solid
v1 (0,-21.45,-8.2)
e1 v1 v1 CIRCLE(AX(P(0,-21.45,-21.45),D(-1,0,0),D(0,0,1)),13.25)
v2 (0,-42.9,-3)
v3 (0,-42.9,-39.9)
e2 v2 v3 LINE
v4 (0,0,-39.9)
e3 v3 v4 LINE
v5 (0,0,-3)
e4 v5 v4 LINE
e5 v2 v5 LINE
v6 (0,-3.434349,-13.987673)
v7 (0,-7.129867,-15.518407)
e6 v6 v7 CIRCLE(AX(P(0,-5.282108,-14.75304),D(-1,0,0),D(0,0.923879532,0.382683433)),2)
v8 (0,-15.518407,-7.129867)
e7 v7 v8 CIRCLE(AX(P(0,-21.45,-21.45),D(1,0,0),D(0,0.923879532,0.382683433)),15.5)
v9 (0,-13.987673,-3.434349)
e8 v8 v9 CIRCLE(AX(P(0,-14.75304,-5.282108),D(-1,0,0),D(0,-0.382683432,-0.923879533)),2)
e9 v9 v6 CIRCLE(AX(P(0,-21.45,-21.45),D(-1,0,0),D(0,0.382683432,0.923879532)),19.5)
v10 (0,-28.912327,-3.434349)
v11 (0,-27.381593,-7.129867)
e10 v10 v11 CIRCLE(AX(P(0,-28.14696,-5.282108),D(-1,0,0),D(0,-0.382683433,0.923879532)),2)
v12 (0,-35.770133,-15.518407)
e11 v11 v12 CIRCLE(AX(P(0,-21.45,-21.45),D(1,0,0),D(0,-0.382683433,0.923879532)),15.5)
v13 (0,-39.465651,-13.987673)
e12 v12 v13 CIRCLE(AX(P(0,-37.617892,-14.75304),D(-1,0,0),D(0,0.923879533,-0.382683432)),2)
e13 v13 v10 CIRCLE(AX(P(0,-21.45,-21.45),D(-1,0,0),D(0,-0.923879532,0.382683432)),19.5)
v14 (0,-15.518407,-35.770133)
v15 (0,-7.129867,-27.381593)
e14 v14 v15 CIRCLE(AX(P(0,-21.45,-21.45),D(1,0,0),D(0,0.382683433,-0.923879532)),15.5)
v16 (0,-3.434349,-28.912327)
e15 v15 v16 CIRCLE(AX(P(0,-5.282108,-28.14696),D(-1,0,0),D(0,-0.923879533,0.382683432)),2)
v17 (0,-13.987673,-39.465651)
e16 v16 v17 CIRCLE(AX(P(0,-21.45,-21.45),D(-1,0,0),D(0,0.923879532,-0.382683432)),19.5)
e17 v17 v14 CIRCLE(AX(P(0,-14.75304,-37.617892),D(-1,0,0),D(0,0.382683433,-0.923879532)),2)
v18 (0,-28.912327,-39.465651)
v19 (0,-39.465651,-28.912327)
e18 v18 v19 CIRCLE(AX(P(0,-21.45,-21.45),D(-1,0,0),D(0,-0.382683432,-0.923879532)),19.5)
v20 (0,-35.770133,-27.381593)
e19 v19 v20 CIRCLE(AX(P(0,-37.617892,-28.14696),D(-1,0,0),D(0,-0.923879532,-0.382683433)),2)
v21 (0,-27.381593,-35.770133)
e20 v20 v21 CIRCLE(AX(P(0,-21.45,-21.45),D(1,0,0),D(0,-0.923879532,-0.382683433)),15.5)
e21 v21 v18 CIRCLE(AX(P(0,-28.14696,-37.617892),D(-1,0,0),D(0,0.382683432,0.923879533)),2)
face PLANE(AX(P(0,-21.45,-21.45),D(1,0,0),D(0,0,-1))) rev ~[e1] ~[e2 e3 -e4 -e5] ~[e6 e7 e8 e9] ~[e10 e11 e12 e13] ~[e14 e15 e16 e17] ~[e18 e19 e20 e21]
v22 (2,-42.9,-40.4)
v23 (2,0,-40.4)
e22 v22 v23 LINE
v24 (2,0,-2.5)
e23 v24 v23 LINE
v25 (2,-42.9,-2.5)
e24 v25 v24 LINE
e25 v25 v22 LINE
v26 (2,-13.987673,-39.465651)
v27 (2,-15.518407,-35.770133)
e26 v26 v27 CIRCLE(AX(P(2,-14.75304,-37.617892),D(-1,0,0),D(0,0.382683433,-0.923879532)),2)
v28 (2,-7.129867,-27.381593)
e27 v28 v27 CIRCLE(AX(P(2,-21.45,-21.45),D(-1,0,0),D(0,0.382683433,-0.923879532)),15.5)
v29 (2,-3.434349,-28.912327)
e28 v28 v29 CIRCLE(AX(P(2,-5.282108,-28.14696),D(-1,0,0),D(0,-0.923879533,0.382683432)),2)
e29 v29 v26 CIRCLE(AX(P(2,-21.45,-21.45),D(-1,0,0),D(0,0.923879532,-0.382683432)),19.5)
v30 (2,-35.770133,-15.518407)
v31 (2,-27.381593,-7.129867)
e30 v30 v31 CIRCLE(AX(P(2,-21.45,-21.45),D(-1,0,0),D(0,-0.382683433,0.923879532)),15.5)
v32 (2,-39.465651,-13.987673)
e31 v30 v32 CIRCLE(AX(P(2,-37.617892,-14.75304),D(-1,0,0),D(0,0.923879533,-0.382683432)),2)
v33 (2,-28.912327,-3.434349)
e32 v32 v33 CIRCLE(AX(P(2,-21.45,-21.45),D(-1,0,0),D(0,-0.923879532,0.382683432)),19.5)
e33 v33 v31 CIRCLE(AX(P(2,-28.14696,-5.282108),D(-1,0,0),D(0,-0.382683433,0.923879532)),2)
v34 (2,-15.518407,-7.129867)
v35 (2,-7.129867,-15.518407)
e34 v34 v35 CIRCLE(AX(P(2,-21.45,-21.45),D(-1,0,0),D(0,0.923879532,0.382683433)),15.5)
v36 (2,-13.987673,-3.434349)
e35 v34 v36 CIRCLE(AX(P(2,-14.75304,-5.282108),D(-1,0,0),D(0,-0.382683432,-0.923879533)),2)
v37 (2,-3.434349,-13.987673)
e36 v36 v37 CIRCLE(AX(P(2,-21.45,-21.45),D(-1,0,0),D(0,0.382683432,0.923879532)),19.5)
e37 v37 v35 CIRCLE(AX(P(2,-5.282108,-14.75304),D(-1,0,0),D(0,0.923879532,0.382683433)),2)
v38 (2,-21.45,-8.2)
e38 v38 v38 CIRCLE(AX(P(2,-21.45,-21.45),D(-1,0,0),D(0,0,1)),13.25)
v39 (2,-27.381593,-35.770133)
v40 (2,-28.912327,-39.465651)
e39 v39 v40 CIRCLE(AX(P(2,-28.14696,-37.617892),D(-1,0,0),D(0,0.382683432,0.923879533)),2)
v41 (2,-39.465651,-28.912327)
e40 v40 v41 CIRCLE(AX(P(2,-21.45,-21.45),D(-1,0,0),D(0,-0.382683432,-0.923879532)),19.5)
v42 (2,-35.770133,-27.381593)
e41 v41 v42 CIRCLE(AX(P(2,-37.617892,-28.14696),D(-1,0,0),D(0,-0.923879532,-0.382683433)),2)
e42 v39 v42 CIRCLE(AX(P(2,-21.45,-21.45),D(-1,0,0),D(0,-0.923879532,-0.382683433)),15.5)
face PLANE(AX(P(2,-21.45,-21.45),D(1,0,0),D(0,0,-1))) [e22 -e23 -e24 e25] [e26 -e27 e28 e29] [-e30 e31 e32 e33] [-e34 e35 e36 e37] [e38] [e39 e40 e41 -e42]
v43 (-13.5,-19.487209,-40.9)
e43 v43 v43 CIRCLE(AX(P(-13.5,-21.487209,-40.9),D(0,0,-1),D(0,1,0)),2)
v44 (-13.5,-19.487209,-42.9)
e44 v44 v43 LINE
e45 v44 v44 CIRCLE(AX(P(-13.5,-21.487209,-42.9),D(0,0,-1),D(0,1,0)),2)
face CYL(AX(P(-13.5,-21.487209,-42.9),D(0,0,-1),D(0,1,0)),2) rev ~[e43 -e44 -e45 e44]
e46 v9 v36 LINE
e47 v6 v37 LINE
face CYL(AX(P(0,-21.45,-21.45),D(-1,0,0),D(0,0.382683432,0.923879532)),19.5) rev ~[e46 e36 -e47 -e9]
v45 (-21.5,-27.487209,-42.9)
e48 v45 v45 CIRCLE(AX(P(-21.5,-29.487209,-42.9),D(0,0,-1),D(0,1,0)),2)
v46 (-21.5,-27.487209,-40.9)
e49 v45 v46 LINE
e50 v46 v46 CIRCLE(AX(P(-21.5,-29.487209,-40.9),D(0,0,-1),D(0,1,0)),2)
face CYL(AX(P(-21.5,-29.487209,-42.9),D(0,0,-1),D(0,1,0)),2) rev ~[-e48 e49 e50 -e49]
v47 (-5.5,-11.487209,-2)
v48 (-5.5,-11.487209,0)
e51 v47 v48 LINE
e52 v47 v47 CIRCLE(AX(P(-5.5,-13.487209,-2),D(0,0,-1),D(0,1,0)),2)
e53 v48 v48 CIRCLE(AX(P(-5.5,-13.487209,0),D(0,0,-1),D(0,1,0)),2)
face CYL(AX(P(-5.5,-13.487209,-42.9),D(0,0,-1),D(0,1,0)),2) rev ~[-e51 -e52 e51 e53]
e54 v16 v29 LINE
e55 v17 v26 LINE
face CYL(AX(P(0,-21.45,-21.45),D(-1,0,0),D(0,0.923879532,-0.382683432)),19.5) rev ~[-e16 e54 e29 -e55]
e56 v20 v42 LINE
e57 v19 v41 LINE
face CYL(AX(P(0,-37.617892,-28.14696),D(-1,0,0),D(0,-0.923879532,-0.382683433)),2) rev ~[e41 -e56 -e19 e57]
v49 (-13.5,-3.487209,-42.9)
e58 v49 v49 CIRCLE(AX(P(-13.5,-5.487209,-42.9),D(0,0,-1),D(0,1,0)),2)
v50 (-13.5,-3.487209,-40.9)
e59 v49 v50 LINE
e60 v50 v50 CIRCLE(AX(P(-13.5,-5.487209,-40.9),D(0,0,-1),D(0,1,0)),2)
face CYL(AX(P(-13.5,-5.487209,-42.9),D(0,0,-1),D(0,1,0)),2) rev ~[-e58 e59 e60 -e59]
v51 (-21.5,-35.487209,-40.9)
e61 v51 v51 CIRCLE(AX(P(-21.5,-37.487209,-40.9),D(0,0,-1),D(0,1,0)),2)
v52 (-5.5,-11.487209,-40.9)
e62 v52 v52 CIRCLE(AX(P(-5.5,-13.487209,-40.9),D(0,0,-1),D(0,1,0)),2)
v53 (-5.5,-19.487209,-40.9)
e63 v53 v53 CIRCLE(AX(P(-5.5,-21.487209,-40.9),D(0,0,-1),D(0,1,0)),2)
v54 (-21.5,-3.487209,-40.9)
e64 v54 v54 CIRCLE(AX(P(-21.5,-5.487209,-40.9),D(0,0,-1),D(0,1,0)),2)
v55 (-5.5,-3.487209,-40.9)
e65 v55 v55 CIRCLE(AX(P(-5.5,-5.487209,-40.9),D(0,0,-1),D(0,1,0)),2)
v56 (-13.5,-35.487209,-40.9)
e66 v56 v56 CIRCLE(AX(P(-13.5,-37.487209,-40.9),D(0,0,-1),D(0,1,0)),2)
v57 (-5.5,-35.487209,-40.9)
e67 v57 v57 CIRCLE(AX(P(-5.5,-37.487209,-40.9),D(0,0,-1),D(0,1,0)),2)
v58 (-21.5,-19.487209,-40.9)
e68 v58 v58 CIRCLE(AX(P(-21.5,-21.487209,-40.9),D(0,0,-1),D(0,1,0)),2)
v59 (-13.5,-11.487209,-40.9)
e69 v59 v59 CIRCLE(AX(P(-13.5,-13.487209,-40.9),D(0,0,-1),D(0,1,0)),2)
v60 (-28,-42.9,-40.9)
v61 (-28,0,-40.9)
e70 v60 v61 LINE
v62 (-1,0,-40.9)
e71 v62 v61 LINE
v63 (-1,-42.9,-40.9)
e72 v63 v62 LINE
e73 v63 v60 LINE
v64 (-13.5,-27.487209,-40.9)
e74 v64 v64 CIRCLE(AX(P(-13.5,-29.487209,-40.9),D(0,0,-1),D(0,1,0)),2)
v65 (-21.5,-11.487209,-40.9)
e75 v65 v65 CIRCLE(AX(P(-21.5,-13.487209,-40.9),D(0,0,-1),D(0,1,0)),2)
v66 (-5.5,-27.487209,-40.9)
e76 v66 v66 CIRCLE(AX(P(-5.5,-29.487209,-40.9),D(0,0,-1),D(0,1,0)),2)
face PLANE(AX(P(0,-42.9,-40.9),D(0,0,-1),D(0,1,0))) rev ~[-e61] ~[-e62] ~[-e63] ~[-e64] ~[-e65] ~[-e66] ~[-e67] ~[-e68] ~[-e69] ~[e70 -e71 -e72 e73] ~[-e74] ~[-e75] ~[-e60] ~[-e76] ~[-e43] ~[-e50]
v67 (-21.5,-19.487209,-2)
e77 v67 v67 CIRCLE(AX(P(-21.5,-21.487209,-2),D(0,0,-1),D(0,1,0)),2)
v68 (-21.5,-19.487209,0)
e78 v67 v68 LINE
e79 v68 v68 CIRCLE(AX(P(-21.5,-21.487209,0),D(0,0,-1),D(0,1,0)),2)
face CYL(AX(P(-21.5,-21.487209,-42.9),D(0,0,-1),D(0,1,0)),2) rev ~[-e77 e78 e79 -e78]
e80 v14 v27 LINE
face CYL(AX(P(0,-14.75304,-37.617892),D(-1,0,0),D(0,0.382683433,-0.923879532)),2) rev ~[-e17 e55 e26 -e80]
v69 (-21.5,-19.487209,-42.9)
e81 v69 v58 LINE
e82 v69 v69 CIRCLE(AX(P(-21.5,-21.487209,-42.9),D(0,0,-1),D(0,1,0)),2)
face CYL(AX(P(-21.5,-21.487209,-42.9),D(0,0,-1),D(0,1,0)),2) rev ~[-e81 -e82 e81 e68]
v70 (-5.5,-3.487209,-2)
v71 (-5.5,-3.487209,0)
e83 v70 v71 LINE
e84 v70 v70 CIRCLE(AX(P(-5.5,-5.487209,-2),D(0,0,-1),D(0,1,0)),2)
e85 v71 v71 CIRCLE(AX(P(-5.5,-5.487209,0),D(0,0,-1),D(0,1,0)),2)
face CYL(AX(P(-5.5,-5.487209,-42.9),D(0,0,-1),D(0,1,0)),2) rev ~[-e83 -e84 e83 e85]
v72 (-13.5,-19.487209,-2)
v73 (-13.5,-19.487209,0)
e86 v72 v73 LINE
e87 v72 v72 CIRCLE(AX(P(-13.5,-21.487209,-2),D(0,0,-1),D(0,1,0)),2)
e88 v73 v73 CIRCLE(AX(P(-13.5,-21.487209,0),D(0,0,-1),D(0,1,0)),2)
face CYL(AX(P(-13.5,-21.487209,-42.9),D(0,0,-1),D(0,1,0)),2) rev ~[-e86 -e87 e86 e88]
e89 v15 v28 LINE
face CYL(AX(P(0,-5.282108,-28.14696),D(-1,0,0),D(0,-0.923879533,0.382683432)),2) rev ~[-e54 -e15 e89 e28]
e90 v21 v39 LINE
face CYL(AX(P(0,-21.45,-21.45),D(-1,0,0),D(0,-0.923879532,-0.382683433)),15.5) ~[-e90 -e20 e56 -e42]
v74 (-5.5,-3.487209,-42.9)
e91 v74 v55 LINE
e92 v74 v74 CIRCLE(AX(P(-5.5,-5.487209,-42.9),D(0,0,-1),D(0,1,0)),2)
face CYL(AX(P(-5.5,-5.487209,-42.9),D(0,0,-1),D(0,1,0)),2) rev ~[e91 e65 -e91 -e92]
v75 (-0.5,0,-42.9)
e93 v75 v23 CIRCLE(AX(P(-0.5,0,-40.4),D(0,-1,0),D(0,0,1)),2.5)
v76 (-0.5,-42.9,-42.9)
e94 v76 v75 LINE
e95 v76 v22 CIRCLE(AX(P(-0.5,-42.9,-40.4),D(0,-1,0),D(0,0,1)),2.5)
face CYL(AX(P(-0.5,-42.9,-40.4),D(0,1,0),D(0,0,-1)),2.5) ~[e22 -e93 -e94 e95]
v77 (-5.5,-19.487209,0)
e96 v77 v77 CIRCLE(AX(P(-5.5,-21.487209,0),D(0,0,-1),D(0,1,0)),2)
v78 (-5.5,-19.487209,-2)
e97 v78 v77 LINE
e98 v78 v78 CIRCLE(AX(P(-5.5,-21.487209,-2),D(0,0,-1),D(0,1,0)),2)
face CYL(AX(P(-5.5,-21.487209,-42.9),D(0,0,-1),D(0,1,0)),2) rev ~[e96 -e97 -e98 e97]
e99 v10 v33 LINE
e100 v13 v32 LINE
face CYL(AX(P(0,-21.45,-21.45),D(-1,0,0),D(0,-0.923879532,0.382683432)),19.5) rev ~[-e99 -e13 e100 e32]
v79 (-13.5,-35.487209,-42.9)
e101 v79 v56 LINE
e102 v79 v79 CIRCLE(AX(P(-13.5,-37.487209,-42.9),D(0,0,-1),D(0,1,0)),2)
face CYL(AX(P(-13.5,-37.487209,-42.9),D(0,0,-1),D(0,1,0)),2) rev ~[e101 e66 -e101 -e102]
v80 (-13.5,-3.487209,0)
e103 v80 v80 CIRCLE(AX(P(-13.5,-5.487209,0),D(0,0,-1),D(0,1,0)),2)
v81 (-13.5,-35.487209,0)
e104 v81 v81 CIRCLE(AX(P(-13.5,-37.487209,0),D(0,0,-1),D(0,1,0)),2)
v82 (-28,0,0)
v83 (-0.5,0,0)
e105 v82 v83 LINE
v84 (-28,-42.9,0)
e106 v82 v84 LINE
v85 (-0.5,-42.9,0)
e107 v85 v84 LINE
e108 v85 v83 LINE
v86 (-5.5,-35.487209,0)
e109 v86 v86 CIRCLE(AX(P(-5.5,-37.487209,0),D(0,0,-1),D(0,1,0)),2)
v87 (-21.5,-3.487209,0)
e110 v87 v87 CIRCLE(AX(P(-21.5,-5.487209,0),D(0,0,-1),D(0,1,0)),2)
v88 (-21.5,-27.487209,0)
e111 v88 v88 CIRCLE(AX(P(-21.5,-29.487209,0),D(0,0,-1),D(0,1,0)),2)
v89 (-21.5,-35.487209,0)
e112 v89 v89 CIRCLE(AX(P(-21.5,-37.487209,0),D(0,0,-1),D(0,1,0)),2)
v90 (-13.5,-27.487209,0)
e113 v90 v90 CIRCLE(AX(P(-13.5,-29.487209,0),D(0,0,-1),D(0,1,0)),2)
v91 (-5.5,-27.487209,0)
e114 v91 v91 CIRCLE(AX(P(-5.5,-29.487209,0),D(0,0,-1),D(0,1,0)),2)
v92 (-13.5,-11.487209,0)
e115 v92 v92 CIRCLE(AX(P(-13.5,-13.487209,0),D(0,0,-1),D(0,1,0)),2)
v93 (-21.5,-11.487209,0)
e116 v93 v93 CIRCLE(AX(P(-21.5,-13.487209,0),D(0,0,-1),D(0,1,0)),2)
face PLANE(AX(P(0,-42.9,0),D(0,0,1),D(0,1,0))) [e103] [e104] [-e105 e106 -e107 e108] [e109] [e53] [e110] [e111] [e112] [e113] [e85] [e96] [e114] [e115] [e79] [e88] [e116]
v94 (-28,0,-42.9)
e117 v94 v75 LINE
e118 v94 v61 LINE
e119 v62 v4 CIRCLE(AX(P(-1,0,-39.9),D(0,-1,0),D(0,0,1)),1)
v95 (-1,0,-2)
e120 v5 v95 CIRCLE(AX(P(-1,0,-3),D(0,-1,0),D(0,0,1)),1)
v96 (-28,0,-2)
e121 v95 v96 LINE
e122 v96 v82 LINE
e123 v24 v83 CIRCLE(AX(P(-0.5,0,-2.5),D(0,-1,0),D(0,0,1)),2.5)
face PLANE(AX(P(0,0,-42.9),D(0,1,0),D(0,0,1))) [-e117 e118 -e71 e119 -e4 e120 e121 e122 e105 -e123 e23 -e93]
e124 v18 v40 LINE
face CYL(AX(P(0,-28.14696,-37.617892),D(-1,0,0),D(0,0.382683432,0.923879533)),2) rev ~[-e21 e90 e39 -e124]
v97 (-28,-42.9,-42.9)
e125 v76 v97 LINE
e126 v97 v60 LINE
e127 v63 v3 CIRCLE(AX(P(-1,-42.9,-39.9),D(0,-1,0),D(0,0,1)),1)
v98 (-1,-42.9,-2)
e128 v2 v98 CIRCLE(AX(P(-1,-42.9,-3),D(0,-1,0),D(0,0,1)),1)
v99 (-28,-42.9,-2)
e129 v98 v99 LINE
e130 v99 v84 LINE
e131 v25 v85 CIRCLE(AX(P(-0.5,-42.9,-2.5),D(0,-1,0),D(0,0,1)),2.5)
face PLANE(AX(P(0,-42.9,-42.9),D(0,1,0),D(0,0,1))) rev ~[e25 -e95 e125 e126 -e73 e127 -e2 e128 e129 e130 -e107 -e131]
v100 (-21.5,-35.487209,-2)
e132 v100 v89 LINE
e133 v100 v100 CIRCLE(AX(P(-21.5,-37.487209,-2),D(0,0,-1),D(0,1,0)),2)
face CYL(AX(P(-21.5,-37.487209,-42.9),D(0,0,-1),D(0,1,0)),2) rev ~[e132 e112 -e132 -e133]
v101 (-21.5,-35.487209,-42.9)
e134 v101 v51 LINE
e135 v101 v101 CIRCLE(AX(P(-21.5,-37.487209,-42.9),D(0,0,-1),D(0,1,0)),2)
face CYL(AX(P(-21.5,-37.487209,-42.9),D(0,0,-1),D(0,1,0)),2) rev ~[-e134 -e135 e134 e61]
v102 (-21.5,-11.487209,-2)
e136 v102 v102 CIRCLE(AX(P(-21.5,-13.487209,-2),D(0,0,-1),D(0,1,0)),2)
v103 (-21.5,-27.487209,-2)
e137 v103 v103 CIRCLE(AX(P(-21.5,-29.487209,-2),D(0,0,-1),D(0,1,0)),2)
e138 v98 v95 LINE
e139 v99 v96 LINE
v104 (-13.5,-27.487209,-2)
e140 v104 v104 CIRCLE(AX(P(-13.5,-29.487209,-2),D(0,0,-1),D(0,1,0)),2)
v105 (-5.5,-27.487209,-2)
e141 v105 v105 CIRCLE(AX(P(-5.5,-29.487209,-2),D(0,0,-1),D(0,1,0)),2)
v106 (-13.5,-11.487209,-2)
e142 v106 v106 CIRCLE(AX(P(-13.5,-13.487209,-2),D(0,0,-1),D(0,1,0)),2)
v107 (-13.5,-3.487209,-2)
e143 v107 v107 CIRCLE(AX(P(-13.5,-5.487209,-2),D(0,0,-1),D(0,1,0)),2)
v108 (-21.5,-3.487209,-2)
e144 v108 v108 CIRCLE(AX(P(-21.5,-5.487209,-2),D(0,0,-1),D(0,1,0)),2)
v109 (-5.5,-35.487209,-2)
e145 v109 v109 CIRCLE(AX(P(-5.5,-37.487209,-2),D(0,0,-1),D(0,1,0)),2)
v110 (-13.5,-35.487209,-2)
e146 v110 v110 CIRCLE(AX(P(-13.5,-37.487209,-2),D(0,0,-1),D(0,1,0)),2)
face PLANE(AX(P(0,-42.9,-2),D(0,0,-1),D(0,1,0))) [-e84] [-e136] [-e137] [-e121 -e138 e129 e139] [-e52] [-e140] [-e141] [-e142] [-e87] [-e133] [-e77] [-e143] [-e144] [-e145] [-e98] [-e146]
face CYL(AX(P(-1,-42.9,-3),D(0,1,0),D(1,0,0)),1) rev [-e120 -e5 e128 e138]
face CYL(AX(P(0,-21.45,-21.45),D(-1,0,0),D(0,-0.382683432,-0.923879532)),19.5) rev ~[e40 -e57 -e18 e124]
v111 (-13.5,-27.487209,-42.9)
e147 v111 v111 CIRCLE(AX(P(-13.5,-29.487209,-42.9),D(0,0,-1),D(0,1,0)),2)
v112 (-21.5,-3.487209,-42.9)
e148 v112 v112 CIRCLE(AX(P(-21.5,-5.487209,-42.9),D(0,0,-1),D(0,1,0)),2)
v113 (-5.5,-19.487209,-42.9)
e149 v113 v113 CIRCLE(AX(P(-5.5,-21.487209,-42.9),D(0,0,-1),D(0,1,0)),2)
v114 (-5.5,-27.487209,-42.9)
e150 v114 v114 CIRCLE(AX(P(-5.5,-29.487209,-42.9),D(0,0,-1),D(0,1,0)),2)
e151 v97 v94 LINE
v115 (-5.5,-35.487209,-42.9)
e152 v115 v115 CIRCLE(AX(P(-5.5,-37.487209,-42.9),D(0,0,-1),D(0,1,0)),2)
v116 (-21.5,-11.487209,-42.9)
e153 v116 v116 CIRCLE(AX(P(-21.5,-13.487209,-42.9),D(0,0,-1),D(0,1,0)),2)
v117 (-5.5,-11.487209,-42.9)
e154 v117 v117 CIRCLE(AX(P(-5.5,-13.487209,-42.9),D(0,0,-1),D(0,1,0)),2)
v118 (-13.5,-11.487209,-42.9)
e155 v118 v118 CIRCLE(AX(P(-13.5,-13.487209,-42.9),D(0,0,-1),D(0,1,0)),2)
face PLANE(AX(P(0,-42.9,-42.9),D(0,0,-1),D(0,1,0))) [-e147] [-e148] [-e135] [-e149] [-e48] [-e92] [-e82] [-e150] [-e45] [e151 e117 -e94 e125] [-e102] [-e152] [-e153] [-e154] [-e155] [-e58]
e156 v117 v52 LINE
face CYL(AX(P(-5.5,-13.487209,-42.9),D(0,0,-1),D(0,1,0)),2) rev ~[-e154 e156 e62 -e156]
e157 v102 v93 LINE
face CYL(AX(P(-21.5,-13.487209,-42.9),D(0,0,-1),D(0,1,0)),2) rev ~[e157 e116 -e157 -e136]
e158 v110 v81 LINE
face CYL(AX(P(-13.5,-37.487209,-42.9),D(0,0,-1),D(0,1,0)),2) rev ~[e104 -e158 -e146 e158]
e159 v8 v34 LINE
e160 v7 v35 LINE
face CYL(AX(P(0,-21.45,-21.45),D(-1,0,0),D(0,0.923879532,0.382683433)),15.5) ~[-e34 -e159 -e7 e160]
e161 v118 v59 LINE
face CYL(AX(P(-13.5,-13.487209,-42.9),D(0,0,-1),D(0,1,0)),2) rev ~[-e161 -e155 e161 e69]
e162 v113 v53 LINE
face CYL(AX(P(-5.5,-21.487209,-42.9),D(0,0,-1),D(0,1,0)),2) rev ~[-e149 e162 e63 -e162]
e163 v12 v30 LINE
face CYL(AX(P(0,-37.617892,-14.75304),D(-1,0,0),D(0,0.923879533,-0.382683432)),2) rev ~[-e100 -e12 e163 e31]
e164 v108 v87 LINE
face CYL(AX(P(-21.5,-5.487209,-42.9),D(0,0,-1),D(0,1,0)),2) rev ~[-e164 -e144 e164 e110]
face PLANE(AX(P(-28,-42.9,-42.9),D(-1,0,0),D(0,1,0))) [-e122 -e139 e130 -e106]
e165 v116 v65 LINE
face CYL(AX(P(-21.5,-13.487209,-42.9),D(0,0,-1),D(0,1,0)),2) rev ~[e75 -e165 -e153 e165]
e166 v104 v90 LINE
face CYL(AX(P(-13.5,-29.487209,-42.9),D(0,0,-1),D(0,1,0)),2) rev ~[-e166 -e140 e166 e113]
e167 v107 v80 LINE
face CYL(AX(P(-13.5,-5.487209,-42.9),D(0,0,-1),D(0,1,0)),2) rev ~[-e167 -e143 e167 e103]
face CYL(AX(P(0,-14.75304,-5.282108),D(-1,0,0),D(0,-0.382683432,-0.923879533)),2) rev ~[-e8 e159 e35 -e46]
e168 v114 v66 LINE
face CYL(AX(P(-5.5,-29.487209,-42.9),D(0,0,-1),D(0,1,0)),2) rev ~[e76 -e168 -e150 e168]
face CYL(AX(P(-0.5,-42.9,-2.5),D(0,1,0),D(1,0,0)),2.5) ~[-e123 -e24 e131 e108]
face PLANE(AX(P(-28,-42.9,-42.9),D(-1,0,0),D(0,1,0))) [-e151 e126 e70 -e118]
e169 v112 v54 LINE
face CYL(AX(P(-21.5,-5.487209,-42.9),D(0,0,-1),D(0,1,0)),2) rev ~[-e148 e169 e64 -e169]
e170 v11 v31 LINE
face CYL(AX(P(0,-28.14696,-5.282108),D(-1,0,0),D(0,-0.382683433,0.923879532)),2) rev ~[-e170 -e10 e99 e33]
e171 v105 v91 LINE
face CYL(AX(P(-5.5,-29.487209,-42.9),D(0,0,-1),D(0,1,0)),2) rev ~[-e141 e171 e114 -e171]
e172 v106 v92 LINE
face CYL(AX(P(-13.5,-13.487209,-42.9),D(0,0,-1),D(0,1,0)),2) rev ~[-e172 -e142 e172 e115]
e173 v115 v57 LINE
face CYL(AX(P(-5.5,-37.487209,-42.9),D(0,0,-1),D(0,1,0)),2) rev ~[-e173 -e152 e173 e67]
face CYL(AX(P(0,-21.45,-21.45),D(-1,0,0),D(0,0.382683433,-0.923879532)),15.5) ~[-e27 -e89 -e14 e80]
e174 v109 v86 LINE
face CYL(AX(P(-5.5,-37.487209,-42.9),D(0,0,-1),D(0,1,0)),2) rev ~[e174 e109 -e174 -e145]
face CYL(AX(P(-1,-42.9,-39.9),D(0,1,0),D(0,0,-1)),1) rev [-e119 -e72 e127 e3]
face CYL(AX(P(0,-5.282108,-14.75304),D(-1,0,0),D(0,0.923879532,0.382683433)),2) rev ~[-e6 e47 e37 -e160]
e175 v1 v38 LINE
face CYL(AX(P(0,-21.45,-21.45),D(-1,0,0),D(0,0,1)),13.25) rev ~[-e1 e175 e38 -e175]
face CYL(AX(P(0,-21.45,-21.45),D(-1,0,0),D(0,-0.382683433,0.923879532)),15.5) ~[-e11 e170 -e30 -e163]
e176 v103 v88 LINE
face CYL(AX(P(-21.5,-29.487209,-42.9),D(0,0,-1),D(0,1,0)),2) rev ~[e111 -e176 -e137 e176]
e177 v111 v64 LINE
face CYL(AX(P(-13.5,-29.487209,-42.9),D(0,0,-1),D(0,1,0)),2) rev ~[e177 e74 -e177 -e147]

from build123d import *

# Parameters (mm, degrees)
SKETCH1_W           = 42.9
SKETCH1_H           = 42.9
BOSS_EXTRUDE1_DEPTH = 2
SKETCH3_R           = 13.25
CUT_EXTRUDE2_DEPTH  = 61.702718226
SKETCH4_W           = 2
SKETCH4_H           = 42.9
BOSS_EXTRUDE2_DEPTH = 43
SKETCH5_R           = 2
SKETCH5_W           = 15
SKETCH5_H           = 42.9
CUT_EXTRUDE4_DEPTH  = 75.362759497
FILLET1_R           = 2.5
FILLET2_R           = 1


with BuildPart() as part:
    # Sketch1 → Boss-Extrude1 (new body)
    with BuildSketch(Plane(origin=(0, 0, 0), x_dir=(0, 0, -1), z_dir=(1, 0, 0))):
        with Locations((21.45, -21.45)):
            Rectangle(SKETCH1_W, SKETCH1_H)
    extrude(amount=BOSS_EXTRUDE1_DEPTH)

    # Sketch3 → Cut-Extrude2 (cut, through all)
    with BuildSketch(Plane.ZY):
        with Locations((-21.45, -21.45)):
            Circle(SKETCH3_R)
        with BuildLine():
            ThreePointArc((-39.465650884, -13.987673069), (-38.383258684, -16.600798999), (-35.770132754, -15.518406798))
            ThreePointArc((-35.770132754, -15.518406798), (-32.410155108, -10.489844892), (-27.381593202, -7.129867246))
            ThreePointArc((-27.381593202, -7.129867246), (-26.299201001, -4.516741316), (-28.912326931, -3.434349116))
            ThreePointArc((-28.912326931, -3.434349116), (-35.238582233, -7.661417767), (-39.465650884, -13.987673069))
        make_face()
        with BuildLine():
            ThreePointArc((-13.987673069, -3.434349116), (-16.600798999, -4.516741316), (-15.518406798, -7.129867246))
            ThreePointArc((-15.518406798, -7.129867246), (-10.489844892, -10.489844892), (-7.129867246, -15.518406798))
            ThreePointArc((-7.129867246, -15.518406798), (-4.516741316, -16.600798999), (-3.434349116, -13.987673069))
            ThreePointArc((-3.434349116, -13.987673069), (-7.661417767, -7.661417767), (-13.987673069, -3.434349116))
        make_face()
        with BuildLine():
            ThreePointArc((-3.434349116, -28.912326931), (-4.516741316, -26.299201001), (-7.129867246, -27.381593202))
            ThreePointArc((-7.129867246, -27.381593202), (-10.489844892, -32.410155108), (-15.518406798, -35.770132754))
            ThreePointArc((-15.518406798, -35.770132754), (-16.600798999, -38.383258684), (-13.987673069, -39.465650884))
            ThreePointArc((-13.987673069, -39.465650884), (-7.661417767, -35.238582233), (-3.434349116, -28.912326931))
        make_face()
        with BuildLine():
            ThreePointArc((-28.912326931, -39.465650884), (-26.299201001, -38.383258684), (-27.381593202, -35.770132754))
            ThreePointArc((-27.381593202, -35.770132754), (-32.410155108, -32.410155108), (-35.770132754, -27.381593202))
            ThreePointArc((-35.770132754, -27.381593202), (-38.383258684, -26.299201001), (-39.465650884, -28.912326931))
            ThreePointArc((-39.465650884, -28.912326931), (-35.238582233, -35.238582233), (-28.912326931, -39.465650884))
        make_face()
    extrude(amount=-CUT_EXTRUDE2_DEPTH, mode=Mode.SUBTRACT)

    # Sketch4 → Boss-Extrude2 (add)
    with BuildSketch(Plane.ZY):
        with Locations((-41.9, -21.45)):
            Rectangle(SKETCH4_W, SKETCH4_H)
        with Locations((-1, -21.45)):
            Rectangle(SKETCH4_W, SKETCH4_H)
    extrude(amount=BOSS_EXTRUDE2_DEPTH)

    # Sketch5 → Cut-Extrude4 (cut, through all)
    with BuildSketch(Plane(origin=(0, 0, -42.9), x_dir=(-1, 0, 0), z_dir=(0, 0, -1))):
        with Locations(Location((5.5, -5.487209302, 0), (0, 0, 90))):
            Circle(SKETCH5_R)
        with Locations(Location((13.5, -5.487209302, 0), (0, 0, 90))):
            Circle(SKETCH5_R)
        with Locations(Location((21.5, -5.487209302, 0), (0, 0, 90))):
            Circle(SKETCH5_R)
        with Locations(Location((13.5, -13.487209302, 0), (0, 0, 90))):
            Circle(SKETCH5_R)
        with Locations(Location((21.5, -13.487209302, 0), (0, 0, 90))):
            Circle(SKETCH5_R)
        with Locations(Location((13.5, -21.487209302, 0), (0, 0, 90))):
            Circle(SKETCH5_R)
        with Locations(Location((21.5, -21.487209302, 0), (0, 0, 90))):
            Circle(SKETCH5_R)
        with Locations(Location((13.5, -29.487209302, 0), (0, 0, 90))):
            Circle(SKETCH5_R)
        with Locations(Location((21.5, -29.487209302, 0), (0, 0, 90))):
            Circle(SKETCH5_R)
        with Locations(Location((13.5, -37.487209302, 0), (0, 0, 90))):
            Circle(SKETCH5_R)
        with Locations(Location((21.5, -37.487209302, 0), (0, 0, 90))):
            Circle(SKETCH5_R)
        with Locations(Location((5.5, -13.487209302, 0), (0, 0, 90))):
            Circle(SKETCH5_R)
        with Locations(Location((5.5, -21.487209302, 0), (0, 0, 90))):
            Circle(SKETCH5_R)
        with Locations(Location((5.5, -29.487209302, 0), (0, 0, 90))):
            Circle(SKETCH5_R)
        with Locations(Location((5.5, -37.487209302, 0), (0, 0, 90))):
            Circle(SKETCH5_R)
        with Locations((35.5, -21.45)):
            Rectangle(SKETCH5_W, SKETCH5_H)
    extrude(amount=-CUT_EXTRUDE4_DEPTH, mode=Mode.SUBTRACT)

    # Fillet1
    fillet1_edges = [part.edges().sort_by_distance(p)[0] for p in [
        (2, -21.45, -42.9),
        (2, -21.45, 0),
    ]]
    fillet(fillet1_edges, radius=FILLET1_R)

    # Fillet2
    fillet2_edges = [part.edges().sort_by_distance(p)[0] for p in [
        (0, -21.45, -40.9),
        (0, -21.45, -2),
    ]]
    fillet(fillet2_edges, radius=FILLET2_R)


solid = part.part
